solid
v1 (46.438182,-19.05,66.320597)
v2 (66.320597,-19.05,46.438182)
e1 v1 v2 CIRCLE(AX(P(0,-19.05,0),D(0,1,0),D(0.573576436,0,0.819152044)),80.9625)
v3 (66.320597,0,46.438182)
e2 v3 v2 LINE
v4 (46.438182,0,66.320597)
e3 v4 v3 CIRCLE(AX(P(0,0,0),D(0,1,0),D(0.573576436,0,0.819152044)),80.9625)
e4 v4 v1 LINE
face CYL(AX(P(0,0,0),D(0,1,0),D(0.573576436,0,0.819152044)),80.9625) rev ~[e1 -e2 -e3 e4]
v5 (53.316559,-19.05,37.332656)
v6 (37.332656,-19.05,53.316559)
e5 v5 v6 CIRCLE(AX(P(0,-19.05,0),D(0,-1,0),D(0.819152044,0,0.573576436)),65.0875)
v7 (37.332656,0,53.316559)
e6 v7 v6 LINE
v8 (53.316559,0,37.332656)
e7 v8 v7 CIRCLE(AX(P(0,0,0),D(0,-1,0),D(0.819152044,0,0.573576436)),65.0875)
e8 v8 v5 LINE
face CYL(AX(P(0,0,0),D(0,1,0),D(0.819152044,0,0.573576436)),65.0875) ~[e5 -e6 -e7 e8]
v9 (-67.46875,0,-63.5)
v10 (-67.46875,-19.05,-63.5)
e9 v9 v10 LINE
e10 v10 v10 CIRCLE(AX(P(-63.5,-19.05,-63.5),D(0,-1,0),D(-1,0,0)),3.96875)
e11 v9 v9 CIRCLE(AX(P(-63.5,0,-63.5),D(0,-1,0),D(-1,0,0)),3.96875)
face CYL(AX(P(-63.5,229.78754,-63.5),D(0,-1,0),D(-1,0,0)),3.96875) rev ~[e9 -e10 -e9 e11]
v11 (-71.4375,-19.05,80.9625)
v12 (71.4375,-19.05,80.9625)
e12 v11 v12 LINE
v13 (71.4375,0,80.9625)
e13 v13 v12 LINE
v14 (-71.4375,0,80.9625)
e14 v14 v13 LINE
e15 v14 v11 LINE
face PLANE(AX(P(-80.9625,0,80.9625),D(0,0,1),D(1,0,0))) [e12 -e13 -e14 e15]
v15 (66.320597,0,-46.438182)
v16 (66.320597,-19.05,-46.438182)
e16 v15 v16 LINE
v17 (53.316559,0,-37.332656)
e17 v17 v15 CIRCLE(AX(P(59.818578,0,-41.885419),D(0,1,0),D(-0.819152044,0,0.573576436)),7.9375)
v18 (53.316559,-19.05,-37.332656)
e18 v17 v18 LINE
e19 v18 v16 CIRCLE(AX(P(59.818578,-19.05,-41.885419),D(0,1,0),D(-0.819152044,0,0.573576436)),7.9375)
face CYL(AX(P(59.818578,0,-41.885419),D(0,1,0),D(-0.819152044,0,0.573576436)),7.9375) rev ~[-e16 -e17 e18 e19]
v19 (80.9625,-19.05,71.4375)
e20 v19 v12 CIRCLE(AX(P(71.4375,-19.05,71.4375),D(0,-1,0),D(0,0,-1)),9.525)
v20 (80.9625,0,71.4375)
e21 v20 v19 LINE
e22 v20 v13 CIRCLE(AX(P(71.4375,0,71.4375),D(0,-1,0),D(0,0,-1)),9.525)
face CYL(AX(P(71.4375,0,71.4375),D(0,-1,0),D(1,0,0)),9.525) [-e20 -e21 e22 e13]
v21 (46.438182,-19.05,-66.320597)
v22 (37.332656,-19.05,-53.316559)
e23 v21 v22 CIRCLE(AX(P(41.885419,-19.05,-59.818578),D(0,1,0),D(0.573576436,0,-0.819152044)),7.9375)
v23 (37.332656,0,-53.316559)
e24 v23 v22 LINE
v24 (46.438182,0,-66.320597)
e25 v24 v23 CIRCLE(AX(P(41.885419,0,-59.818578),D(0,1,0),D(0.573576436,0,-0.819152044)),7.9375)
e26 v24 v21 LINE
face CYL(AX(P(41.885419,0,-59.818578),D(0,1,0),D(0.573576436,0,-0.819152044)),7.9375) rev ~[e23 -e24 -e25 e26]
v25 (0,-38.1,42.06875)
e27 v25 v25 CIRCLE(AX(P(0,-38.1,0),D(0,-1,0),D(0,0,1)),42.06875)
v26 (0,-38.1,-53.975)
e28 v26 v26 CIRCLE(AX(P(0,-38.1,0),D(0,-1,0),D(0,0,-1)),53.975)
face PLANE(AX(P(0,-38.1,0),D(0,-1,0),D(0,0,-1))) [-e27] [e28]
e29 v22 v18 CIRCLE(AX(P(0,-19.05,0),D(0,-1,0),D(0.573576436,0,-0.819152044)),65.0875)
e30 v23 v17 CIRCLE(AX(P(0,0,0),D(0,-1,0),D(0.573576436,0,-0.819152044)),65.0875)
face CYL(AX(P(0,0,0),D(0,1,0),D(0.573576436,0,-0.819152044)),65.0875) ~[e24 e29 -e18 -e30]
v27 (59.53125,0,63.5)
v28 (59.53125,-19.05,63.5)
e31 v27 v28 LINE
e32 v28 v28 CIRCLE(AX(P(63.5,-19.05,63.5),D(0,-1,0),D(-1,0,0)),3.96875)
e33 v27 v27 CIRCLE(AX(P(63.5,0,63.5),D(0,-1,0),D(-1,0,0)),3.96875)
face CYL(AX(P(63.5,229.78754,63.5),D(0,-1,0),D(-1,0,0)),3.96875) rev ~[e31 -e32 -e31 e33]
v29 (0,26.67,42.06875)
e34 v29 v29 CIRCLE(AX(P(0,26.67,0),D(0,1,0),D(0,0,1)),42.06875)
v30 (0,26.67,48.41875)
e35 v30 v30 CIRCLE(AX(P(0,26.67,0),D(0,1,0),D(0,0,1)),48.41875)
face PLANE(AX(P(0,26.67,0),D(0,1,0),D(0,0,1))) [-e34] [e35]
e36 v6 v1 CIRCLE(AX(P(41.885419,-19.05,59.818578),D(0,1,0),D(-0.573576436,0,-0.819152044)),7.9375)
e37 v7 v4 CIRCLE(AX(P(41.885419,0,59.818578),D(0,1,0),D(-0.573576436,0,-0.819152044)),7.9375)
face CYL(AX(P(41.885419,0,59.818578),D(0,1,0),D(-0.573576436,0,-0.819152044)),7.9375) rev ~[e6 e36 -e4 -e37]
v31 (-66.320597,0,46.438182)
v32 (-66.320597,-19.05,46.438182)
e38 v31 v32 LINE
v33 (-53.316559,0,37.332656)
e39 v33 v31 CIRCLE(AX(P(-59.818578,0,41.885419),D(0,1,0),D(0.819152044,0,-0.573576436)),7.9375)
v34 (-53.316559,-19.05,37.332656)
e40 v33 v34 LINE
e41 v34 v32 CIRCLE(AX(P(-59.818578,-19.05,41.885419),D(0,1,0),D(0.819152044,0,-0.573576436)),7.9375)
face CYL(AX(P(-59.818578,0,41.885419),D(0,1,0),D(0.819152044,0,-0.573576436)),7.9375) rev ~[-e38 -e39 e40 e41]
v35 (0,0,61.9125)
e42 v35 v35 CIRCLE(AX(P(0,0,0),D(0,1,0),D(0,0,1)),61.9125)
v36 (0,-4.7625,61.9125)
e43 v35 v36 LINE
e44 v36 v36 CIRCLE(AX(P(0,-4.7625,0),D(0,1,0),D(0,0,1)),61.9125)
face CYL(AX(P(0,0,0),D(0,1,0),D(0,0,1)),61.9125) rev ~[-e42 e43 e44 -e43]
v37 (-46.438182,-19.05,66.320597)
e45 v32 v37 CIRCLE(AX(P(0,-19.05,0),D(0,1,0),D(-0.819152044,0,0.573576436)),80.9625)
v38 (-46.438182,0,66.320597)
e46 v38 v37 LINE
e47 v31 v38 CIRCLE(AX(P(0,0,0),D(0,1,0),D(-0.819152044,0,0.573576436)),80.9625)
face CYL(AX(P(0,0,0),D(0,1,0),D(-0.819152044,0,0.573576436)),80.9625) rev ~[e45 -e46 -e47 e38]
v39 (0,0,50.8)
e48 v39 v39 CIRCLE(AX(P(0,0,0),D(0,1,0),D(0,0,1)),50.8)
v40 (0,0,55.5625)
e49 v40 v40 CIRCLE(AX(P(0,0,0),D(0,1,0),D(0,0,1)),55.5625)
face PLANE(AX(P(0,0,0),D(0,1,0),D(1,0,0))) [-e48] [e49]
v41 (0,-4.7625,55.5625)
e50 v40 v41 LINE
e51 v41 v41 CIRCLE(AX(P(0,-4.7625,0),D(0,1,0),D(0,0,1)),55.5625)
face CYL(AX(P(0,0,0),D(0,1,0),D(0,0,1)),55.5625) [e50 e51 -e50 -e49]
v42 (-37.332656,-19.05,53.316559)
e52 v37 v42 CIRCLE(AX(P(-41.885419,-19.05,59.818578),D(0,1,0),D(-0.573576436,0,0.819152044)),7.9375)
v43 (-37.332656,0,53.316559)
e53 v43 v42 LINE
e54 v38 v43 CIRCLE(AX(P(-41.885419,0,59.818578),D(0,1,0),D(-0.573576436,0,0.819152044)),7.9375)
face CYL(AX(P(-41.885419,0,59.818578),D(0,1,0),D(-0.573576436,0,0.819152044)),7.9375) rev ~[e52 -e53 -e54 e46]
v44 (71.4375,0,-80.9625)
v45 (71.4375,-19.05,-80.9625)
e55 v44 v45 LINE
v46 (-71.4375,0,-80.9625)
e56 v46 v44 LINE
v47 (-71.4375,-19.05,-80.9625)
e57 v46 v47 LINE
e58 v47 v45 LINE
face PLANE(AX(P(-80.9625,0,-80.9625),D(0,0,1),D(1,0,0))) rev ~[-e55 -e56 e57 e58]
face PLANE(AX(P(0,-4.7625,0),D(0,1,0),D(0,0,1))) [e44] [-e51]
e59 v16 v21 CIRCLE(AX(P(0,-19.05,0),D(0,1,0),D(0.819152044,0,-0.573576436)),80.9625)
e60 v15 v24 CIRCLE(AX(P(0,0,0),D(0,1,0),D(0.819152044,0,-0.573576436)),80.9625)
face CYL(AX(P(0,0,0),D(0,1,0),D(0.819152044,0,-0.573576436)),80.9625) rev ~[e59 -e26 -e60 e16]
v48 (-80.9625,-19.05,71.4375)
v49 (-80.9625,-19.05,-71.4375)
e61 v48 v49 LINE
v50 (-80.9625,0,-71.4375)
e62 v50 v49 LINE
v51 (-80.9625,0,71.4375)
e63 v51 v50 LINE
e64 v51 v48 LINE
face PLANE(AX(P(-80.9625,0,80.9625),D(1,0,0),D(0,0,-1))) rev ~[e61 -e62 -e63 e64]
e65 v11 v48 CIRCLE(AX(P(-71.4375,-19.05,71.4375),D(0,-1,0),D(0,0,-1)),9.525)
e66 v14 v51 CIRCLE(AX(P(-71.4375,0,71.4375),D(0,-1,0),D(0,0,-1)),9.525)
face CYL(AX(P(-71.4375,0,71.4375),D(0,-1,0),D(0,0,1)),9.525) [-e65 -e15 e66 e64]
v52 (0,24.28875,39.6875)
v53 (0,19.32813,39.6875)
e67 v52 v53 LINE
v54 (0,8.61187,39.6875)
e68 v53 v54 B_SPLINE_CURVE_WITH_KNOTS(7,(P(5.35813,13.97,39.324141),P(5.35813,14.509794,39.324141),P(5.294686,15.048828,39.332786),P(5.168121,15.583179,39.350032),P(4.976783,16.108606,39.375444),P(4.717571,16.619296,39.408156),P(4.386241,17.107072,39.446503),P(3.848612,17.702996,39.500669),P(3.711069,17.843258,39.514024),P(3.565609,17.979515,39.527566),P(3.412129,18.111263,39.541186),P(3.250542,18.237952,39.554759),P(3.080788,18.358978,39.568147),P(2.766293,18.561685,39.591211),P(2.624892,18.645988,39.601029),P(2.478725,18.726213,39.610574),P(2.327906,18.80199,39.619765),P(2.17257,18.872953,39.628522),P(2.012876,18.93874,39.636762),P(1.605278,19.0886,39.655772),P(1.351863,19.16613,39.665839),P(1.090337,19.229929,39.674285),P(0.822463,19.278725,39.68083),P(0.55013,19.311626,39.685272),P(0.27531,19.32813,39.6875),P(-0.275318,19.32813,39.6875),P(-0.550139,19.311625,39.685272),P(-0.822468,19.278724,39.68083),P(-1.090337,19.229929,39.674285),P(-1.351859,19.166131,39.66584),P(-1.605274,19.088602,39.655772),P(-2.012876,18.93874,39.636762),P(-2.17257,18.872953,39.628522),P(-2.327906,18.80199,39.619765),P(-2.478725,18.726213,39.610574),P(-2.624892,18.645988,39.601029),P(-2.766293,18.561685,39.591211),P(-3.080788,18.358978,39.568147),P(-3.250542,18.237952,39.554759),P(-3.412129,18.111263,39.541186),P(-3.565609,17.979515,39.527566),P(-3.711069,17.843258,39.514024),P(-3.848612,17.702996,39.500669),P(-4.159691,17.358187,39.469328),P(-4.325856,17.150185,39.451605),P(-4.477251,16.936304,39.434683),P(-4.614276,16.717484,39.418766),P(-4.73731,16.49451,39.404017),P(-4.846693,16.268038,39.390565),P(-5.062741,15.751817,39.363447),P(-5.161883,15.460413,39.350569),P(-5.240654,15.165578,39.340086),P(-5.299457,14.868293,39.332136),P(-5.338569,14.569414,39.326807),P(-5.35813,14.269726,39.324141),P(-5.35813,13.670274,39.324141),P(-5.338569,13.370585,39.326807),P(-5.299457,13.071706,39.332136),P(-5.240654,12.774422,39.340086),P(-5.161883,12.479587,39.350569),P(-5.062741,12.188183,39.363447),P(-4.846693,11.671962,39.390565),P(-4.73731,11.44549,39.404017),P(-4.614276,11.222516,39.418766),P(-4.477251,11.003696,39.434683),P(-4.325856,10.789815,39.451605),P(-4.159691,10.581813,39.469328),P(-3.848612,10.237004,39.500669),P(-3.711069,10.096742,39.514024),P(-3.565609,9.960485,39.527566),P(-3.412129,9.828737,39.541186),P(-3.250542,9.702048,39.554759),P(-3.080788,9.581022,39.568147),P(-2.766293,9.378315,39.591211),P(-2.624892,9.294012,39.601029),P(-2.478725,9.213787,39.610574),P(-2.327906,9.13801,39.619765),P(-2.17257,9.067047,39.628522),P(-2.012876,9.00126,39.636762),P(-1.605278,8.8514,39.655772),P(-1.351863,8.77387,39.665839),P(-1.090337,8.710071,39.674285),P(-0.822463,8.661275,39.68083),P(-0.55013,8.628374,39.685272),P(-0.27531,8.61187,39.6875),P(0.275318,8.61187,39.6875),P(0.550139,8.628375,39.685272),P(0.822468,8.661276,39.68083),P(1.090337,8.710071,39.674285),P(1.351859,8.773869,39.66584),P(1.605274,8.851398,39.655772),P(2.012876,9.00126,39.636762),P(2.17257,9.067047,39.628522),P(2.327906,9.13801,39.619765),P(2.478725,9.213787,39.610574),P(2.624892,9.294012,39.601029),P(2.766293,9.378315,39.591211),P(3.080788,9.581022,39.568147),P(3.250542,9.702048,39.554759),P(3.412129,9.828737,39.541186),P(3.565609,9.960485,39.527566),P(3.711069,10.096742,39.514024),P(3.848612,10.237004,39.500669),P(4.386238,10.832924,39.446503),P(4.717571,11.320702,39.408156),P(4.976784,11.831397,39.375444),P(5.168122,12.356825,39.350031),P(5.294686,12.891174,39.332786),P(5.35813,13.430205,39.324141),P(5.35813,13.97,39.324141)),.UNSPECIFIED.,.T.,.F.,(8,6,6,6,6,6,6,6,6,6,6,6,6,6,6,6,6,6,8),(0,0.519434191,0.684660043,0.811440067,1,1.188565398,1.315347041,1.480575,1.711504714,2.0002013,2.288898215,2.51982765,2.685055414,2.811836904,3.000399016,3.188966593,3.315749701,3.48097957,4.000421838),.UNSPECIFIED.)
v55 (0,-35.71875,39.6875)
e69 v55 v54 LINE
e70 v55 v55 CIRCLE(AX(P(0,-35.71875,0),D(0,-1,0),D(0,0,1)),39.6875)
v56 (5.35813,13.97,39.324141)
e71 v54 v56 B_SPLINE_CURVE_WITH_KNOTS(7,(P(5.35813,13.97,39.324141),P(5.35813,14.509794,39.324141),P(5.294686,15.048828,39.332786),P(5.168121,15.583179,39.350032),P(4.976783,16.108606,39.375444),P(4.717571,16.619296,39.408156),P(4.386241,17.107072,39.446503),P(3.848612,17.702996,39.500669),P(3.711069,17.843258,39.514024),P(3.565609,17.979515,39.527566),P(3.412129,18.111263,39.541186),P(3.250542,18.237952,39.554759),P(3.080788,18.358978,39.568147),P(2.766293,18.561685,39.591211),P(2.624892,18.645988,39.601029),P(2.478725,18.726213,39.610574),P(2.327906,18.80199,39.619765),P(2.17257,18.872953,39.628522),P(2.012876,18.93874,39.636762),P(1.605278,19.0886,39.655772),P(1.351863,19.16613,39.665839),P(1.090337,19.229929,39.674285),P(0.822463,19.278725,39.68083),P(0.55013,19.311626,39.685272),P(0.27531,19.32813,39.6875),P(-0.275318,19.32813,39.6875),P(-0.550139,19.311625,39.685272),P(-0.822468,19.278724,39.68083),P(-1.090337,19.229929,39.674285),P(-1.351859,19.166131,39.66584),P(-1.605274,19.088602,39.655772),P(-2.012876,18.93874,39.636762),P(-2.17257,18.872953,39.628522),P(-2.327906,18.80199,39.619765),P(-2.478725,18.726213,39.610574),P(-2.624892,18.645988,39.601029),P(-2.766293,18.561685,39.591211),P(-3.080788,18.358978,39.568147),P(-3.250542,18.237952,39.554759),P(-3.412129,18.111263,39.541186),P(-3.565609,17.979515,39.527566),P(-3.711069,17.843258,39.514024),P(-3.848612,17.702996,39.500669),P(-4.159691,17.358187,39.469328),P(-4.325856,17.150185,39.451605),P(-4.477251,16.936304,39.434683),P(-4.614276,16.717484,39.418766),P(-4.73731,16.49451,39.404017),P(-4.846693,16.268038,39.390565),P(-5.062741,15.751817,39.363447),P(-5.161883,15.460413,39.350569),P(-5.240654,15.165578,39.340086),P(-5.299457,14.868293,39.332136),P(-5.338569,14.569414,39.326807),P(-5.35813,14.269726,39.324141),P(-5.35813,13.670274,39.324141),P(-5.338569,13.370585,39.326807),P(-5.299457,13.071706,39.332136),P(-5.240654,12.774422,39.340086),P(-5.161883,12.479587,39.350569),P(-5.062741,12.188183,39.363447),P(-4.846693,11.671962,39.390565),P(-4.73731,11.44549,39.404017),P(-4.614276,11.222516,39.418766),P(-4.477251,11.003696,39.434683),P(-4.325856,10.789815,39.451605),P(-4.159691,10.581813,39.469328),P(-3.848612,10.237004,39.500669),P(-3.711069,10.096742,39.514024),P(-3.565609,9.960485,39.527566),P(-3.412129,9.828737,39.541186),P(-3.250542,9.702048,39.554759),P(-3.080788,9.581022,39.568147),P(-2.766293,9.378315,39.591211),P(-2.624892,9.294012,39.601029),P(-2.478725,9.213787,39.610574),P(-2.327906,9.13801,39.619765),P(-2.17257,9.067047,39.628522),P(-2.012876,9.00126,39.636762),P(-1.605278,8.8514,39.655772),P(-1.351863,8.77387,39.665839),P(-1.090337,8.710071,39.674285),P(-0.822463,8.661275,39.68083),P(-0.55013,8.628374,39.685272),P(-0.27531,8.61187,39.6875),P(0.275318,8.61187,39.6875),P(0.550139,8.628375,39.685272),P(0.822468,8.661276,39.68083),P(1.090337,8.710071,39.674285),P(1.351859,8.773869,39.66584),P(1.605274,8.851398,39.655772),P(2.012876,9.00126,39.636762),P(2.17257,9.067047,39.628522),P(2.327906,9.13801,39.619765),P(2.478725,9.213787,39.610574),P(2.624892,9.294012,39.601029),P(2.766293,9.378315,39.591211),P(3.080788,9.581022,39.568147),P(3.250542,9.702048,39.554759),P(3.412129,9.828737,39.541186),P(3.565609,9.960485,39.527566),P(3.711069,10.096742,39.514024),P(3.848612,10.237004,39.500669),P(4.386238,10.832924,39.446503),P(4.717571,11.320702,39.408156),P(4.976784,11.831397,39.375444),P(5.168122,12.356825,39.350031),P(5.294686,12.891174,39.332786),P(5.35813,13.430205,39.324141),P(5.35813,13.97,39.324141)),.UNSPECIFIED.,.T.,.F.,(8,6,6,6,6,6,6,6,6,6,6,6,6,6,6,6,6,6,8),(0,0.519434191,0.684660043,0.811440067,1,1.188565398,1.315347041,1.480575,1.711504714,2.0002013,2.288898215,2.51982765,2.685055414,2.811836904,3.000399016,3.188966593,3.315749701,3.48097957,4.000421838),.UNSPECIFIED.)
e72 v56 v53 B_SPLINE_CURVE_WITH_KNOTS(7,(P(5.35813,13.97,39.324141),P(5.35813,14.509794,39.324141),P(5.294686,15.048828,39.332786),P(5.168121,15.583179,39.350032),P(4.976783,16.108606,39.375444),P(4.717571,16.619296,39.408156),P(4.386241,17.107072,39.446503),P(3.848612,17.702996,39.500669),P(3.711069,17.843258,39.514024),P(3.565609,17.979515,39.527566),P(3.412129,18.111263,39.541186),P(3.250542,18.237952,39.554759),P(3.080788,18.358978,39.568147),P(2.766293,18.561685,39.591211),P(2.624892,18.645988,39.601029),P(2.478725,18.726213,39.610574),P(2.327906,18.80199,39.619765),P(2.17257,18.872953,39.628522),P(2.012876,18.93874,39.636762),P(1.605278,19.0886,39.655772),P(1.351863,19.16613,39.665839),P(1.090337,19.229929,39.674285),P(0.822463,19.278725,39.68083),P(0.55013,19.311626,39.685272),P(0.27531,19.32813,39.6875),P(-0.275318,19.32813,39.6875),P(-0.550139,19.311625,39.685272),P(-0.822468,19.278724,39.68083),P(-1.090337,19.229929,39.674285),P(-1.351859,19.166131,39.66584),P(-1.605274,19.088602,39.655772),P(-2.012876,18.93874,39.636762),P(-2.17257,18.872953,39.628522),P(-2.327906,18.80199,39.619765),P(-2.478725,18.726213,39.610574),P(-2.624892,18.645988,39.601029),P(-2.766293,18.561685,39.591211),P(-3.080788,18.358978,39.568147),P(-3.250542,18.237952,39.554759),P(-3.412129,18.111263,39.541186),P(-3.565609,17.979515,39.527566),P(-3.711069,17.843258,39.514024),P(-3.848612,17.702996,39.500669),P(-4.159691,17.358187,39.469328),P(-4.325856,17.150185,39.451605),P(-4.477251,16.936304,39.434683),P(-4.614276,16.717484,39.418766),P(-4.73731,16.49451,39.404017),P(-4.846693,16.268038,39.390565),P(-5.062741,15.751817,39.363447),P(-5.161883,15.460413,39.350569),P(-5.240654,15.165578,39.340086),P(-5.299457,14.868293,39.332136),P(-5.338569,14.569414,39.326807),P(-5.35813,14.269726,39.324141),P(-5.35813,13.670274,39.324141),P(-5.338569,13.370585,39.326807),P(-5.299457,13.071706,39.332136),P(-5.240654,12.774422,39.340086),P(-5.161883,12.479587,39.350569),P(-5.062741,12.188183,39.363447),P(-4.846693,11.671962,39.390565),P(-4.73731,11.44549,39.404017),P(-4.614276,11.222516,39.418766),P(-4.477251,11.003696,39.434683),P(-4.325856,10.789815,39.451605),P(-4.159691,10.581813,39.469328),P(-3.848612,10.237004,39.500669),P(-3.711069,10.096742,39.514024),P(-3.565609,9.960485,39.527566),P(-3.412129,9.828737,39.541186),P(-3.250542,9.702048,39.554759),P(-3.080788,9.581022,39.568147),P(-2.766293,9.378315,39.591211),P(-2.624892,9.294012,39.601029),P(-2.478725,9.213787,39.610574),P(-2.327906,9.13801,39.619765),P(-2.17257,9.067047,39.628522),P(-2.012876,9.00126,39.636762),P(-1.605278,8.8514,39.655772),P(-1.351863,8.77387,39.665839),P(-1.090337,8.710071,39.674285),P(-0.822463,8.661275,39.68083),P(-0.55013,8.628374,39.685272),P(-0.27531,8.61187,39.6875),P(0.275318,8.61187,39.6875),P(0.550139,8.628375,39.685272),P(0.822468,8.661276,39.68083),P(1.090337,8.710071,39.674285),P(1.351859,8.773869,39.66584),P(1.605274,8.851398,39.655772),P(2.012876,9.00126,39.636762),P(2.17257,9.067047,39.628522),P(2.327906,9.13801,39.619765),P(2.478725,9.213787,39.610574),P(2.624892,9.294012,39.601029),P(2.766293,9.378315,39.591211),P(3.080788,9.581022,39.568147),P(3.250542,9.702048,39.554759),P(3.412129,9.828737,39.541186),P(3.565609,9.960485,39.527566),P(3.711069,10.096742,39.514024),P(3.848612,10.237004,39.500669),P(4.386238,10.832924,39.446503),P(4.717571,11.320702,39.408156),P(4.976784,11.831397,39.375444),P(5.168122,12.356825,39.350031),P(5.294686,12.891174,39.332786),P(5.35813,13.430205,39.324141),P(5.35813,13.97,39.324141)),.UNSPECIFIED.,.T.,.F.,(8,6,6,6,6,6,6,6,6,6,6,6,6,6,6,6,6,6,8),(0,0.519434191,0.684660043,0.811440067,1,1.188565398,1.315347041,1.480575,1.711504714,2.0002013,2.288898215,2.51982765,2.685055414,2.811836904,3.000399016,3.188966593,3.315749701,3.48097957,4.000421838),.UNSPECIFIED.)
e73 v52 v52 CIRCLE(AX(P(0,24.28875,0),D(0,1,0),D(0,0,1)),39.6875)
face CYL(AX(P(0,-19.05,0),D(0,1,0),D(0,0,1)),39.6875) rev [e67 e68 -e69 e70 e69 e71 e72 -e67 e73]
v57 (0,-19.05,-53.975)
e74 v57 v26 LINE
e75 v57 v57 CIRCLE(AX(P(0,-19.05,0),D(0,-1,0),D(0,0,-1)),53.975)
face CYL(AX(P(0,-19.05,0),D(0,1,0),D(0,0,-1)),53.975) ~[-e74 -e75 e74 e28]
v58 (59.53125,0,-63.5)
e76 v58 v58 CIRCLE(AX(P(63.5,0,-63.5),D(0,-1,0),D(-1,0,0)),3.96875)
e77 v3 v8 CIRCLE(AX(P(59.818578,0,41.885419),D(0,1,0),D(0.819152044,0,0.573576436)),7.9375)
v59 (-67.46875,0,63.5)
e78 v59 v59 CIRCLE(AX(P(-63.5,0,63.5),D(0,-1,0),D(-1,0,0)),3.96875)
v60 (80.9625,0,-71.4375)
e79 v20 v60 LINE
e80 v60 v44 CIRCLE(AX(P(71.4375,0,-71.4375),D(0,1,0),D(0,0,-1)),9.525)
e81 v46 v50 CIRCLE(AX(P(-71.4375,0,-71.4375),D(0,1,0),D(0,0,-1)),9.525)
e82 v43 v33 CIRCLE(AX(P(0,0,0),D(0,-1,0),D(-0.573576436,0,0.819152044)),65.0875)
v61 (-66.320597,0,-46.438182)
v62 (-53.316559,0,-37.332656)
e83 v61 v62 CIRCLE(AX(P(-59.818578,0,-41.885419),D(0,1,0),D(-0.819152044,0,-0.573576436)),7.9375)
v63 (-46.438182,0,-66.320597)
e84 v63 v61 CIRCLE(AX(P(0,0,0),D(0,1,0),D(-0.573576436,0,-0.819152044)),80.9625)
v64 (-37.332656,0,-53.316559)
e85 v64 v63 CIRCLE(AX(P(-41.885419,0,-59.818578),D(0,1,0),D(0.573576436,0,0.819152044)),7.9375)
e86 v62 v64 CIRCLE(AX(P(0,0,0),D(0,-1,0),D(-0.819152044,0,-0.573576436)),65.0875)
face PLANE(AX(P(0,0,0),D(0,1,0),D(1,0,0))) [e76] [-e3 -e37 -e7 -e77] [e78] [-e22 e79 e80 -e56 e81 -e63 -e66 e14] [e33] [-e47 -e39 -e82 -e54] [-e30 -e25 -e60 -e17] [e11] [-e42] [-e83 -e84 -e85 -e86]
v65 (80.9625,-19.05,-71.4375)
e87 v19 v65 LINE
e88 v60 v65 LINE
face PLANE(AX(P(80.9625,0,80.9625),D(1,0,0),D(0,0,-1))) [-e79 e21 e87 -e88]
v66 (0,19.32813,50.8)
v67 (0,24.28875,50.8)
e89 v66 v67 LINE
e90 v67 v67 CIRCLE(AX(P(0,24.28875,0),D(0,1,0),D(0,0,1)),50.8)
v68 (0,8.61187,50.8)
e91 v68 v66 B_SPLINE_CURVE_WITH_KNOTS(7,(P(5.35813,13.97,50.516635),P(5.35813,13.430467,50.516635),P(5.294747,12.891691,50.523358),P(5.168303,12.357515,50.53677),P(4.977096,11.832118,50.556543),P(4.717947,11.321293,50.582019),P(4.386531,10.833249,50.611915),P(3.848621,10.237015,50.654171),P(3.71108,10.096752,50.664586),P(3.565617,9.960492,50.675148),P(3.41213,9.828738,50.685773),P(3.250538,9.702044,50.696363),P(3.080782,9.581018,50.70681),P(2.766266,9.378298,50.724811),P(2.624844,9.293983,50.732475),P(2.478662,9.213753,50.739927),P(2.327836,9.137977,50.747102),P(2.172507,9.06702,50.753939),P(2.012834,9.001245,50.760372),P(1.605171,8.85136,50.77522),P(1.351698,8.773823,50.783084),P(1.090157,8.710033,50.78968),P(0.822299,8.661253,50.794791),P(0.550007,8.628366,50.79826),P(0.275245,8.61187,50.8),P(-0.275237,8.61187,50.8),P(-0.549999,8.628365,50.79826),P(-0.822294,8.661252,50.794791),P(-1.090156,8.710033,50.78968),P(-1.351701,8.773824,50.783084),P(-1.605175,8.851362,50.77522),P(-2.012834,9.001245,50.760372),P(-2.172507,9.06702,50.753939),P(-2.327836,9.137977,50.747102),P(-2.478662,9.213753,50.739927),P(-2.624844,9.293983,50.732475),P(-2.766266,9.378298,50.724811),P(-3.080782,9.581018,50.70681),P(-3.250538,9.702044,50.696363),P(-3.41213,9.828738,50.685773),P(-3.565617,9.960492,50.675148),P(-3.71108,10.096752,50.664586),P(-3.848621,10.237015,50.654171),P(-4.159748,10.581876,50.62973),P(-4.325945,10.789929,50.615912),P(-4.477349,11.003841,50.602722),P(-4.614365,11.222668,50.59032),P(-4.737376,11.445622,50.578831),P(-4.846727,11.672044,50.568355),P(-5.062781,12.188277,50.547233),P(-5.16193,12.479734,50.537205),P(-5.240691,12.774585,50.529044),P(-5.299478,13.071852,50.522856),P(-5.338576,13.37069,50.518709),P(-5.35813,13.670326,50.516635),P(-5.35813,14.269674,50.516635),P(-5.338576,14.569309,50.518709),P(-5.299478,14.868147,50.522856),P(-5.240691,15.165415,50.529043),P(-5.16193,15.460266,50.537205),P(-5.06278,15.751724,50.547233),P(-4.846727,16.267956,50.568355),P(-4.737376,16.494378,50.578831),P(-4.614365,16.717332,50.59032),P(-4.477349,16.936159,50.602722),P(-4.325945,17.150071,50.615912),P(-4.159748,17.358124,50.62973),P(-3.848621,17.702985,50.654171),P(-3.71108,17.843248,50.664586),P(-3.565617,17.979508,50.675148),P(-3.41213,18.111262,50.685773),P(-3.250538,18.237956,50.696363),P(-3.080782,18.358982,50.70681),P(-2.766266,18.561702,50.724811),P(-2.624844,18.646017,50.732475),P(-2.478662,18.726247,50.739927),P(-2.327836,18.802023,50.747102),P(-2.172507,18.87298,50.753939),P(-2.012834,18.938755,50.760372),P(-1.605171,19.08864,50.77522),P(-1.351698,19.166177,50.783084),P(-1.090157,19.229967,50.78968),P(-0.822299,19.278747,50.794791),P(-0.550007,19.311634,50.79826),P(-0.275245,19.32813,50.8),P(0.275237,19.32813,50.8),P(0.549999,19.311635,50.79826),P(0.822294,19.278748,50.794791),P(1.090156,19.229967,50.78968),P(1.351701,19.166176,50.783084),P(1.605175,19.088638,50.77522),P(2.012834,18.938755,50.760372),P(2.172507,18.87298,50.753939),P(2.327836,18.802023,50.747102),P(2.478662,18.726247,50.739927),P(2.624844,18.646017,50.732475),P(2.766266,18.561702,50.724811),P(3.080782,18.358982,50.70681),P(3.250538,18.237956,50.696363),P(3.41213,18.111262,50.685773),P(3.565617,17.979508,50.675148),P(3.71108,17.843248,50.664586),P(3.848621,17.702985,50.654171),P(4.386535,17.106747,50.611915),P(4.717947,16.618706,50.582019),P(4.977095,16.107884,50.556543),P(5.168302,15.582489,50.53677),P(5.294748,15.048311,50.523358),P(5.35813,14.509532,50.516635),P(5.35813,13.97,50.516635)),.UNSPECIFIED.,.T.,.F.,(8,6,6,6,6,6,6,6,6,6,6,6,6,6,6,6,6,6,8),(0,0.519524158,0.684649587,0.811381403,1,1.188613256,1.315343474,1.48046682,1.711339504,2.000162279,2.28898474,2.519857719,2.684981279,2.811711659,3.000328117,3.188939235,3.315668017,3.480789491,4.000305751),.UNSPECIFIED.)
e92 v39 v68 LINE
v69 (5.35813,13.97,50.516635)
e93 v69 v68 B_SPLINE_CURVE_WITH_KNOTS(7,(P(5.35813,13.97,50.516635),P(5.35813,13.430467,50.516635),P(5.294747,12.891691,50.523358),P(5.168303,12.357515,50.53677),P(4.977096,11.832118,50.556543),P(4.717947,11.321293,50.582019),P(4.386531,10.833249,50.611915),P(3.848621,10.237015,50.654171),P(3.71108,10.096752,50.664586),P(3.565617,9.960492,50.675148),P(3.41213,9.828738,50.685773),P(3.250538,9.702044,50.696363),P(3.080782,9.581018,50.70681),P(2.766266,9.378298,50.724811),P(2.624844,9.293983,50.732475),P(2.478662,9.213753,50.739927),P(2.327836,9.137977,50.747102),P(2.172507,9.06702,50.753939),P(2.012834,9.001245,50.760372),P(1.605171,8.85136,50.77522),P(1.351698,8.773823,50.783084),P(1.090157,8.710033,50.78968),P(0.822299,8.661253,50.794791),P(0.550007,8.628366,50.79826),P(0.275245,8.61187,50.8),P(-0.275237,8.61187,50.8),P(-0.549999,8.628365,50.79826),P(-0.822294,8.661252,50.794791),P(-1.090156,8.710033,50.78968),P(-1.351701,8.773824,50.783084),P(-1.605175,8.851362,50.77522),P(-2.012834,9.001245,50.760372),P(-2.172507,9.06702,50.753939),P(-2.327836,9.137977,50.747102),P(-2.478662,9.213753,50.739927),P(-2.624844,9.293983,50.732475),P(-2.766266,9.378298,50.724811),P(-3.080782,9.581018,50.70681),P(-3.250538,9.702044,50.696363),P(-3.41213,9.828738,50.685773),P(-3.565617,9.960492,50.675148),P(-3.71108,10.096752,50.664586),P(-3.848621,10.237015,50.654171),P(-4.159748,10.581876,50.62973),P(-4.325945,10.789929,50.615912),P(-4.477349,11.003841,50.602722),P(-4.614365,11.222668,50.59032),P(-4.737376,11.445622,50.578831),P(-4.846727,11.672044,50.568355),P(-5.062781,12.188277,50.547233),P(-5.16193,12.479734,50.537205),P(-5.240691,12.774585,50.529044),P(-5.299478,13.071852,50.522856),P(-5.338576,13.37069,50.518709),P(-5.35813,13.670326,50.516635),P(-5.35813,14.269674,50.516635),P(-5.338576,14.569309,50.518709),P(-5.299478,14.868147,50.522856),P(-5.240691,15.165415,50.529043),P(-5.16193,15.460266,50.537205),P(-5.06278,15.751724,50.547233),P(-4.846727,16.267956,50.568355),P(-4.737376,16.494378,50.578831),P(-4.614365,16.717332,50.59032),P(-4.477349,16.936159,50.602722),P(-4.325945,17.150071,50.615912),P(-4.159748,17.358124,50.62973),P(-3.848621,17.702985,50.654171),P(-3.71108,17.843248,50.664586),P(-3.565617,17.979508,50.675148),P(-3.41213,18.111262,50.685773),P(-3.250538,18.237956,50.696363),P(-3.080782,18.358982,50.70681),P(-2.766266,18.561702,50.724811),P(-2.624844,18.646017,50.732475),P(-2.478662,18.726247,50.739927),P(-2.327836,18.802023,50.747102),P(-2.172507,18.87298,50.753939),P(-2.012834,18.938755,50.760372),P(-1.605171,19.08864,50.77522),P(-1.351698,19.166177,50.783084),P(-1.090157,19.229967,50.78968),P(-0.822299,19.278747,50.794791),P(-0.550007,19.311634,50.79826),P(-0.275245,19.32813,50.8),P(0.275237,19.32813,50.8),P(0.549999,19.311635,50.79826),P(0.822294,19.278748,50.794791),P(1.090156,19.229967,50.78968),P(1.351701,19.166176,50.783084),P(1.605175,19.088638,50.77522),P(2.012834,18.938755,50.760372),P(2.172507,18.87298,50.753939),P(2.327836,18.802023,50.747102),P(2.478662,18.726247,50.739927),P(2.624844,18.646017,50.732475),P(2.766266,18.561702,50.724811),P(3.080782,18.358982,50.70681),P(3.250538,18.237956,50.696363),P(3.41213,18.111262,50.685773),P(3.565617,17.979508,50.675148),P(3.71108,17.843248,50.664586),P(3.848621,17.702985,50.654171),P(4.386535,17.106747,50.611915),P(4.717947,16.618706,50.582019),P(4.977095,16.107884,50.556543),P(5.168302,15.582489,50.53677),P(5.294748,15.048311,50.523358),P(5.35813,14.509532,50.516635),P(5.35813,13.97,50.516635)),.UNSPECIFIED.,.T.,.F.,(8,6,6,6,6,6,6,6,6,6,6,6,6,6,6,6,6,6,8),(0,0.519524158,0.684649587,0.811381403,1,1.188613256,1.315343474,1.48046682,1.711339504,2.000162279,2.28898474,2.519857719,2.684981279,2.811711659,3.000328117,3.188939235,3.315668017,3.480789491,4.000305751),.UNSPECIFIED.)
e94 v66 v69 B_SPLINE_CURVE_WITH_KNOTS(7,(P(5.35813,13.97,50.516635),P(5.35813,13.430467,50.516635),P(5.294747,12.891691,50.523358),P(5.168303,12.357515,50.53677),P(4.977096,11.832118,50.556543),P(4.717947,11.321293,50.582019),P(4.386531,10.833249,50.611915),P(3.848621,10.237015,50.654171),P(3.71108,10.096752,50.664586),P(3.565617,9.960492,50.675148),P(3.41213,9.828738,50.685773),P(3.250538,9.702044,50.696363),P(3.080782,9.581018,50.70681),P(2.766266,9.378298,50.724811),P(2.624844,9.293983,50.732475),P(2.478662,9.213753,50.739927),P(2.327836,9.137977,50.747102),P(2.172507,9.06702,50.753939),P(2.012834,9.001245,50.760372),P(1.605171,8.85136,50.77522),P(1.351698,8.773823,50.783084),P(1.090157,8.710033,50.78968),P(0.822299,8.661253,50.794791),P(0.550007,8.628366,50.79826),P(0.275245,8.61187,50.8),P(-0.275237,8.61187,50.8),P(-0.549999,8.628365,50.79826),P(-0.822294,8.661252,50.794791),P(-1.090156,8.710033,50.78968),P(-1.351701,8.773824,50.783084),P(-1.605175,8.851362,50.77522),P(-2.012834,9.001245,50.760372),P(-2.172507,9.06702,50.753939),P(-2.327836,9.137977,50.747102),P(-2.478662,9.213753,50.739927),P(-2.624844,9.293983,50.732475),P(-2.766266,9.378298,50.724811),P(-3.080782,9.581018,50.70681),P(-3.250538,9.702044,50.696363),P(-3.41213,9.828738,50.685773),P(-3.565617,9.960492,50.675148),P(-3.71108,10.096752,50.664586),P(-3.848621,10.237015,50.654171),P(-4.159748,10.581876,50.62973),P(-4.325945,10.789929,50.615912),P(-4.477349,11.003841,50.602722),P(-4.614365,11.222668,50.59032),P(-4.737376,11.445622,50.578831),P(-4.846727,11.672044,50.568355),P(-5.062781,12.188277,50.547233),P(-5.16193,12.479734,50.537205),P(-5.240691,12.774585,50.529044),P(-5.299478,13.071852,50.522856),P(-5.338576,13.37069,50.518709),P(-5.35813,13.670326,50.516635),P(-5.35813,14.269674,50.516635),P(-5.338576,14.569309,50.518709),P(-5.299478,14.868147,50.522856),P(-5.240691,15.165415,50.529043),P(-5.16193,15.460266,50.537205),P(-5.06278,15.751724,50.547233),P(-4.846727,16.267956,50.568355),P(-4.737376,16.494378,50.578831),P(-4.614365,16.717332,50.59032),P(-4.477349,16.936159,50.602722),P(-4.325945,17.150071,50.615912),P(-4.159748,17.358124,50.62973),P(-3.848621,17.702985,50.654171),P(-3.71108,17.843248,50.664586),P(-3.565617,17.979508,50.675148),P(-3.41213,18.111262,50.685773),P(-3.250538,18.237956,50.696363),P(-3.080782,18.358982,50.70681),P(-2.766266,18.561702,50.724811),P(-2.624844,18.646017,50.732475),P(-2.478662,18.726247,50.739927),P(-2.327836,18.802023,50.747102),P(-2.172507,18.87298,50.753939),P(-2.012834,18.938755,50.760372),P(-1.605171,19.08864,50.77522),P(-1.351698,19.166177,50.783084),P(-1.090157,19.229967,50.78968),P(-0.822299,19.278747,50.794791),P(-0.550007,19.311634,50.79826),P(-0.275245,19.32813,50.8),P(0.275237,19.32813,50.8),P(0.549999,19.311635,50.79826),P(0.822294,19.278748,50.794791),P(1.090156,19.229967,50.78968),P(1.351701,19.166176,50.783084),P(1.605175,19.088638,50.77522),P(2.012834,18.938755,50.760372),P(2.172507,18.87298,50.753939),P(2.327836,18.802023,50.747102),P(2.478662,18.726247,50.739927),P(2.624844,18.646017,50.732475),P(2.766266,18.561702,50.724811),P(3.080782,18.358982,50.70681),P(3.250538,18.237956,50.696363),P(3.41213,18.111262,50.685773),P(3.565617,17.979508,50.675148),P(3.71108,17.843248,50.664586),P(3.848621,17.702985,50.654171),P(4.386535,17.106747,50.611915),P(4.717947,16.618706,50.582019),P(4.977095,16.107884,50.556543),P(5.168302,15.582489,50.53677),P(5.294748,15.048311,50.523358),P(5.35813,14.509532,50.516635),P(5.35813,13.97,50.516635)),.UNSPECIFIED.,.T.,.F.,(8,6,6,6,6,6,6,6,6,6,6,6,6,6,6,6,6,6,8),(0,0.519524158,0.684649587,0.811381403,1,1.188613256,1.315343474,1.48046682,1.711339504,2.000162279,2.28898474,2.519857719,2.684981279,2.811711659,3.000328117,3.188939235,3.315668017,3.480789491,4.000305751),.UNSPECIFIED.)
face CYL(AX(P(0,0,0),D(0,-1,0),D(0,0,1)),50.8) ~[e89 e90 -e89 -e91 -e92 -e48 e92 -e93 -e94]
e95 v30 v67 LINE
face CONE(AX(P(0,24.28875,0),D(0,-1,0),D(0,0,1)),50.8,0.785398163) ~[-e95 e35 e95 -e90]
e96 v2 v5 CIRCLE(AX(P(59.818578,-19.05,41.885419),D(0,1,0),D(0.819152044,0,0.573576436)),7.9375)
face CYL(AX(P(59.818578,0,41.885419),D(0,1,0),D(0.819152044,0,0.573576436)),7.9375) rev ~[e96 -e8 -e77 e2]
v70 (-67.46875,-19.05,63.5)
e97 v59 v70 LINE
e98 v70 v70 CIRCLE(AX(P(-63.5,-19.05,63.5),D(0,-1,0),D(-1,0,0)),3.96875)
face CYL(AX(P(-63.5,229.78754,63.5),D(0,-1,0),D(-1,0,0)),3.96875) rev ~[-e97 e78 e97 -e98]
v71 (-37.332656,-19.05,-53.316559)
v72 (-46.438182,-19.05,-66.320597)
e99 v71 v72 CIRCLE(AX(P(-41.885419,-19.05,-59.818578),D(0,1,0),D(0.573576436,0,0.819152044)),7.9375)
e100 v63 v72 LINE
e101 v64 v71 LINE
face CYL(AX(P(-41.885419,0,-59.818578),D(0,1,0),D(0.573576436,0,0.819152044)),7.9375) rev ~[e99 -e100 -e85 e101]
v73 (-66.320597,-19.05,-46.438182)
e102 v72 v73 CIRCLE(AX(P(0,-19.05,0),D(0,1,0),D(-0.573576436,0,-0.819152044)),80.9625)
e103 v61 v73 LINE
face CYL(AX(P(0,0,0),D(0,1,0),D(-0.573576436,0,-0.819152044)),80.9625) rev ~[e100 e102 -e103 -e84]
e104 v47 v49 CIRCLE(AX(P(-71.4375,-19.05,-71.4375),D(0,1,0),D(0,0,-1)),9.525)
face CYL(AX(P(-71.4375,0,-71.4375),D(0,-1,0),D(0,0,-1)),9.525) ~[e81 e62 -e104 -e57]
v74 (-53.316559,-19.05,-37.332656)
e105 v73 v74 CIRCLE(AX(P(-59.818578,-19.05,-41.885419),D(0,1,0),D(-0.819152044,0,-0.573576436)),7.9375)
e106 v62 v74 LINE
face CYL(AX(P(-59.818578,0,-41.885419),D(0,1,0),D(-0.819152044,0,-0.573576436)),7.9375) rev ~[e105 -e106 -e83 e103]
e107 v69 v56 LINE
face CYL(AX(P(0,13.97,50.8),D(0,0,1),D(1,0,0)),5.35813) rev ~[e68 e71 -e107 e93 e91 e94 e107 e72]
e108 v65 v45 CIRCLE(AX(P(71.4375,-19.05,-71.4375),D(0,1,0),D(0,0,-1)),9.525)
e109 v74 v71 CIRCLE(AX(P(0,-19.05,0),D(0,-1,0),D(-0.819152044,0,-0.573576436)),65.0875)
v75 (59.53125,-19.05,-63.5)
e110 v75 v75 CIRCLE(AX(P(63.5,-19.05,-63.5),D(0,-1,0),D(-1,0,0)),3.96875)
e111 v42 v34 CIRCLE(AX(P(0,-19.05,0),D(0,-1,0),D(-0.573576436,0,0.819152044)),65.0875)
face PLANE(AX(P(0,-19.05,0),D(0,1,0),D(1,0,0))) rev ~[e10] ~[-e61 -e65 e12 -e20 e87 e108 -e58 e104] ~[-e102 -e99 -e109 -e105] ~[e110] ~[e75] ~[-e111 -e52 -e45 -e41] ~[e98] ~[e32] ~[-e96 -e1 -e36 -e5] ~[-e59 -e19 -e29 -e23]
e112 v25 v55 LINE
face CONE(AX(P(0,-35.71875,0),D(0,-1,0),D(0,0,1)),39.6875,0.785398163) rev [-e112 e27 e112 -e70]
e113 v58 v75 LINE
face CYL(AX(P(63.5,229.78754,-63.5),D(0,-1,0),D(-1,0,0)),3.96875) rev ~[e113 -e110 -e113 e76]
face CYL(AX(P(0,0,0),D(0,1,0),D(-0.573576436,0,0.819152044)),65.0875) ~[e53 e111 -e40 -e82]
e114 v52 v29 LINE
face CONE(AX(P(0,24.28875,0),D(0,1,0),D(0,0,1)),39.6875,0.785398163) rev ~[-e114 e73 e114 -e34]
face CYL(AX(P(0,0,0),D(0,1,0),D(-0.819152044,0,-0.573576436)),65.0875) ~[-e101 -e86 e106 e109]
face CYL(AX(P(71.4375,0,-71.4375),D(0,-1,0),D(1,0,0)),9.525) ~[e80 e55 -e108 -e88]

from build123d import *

# Parameters (mm, degrees)
ESQUISSE1_W                = 161.925
ESQUISSE1_H                = 161.925
ESQUISSE1_R                = 39.6875
BOSS_EXTRU_1_DEPTH         = 19.05
TROU_TARAUD_3_8_161_D      = 7.9375
ESQUISSE4_R                = 61.9125
ESQUISSE4_R_2              = 55.5625
ENL_V_MAT_EXTRU_1_DEPTH    = 4.7625
ESQUISSE5_R                = 50.8
ESQUISSE5_R_2              = 39.6875
BOSS_EXTRU_2_DEPTH         = 26.67
CONG_1_R                   = 9.525
TROU_TARAUD_1_2_131_REACH  = 158.932
TROU_TARAUD_1_2_131_BORE_R = 5.35813
CHANFREIN2_SIZE            = 2.38125
ESQUISSE11_R               = 53.975
ESQUISSE11_R_2             = 39.6875
BOSS_EXTRU_3_DEPTH         = 19.05
CHANFREIN4_SIZE            = 2.38125


with BuildPart() as part:
    # Esquisse1 → Boss.-Extru.1 (new body)
    with BuildSketch(Plane(origin=(0, 0, 0), x_dir=(1, 0, 0), z_dir=(0, 1, 0))):
        Rectangle(ESQUISSE1_W, ESQUISSE1_H)
        with Locations(Location((0, 0, 0), (0, 0, 270))):
            Circle(ESQUISSE1_R, mode=Mode.SUBTRACT)
        with BuildLine():
            ThreePointArc((-46.438182228, 66.320597386), (-57.249132772, 57.249132772), (-66.320597386, 46.438182228))
            ThreePointArc((-66.320597386, 46.438182228), (-64.371340998, 35.383399913), (-53.316558683, 37.332656301))
            ThreePointArc((-53.316558683, 37.332656301), (-46.02381262, 46.02381262), (-37.332656301, 53.316558683))
            ThreePointArc((-37.332656301, 53.316558683), (-35.383399913, 64.371340998), (-46.438182228, 66.320597386))
        make_face(mode=Mode.SUBTRACT)
        with BuildLine():
            ThreePointArc((66.320597386, 46.438182228), (57.249132772, 57.249132772), (46.438182228, 66.320597386))
            ThreePointArc((46.438182228, 66.320597386), (35.383399913, 64.371340998), (37.332656301, 53.316558683))
            ThreePointArc((37.332656301, 53.316558683), (46.02381262, 46.02381262), (53.316558683, 37.332656301))
            ThreePointArc((53.316558683, 37.332656301), (64.371340998, 35.383399913), (66.320597386, 46.438182228))
        make_face(mode=Mode.SUBTRACT)
        with BuildLine():
            ThreePointArc((46.438182228, -66.320597386), (57.249132772, -57.249132772), (66.320597386, -46.438182228))
            ThreePointArc((66.320597386, -46.438182228), (64.371340998, -35.383399913), (53.316558683, -37.332656301))
            ThreePointArc((53.316558683, -37.332656301), (46.02381262, -46.02381262), (37.332656301, -53.316558683))
            ThreePointArc((37.332656301, -53.316558683), (35.383399913, -64.371340998), (46.438182228, -66.320597386))
        make_face(mode=Mode.SUBTRACT)
        with BuildLine():
            ThreePointArc((-66.320597386, -46.438182228), (-57.249132772, -57.249132772), (-46.438182228, -66.320597386))
            ThreePointArc((-46.438182228, -66.320597386), (-35.383399913, -64.371340998), (-37.332656301, -53.316558683))
            ThreePointArc((-37.332656301, -53.316558683), (-46.02381262, -46.02381262), (-53.316558683, -37.332656301))
            ThreePointArc((-53.316558683, -37.332656301), (-64.371340998, -35.383399913), (-66.320597386, -46.438182228))
        make_face(mode=Mode.SUBTRACT)
    extrude(amount=-BOSS_EXTRU_1_DEPTH)

    # Trou taraudé 3/8-161 (through all)
    with Locations(Plane(origin=(0, 0, 0), x_dir=(1, 0, 0), z_dir=(0, 1, 0))):
        with Locations((-63.5, 63.5), (63.5, 63.5), (-63.5, -63.5), (63.5, -63.5)):
            Hole(TROU_TARAUD_3_8_161_D / 2)

    # Esquisse4 → Enlèv. mat.-Extru.1 (cut)
    with BuildSketch(Plane(origin=(0, 0, 0), x_dir=(1, 0, 0), z_dir=(0, 1, 0))):
        with Locations(Location((0, 0, 0), (0, 0, 270))):
            Circle(ESQUISSE4_R)
        with Locations(Location((0, 0, 0), (0, 0, 270))):
            Circle(ESQUISSE4_R_2, mode=Mode.SUBTRACT)
    extrude(amount=-ENL_V_MAT_EXTRU_1_DEPTH, mode=Mode.SUBTRACT)

    # Esquisse5 → Boss.-Extru.2 (add)
    with BuildSketch(Plane(origin=(0, 0, 0), x_dir=(1, 0, 0), z_dir=(0, 1, 0))):
        with Locations(Location((0, 0, 0), (0, 0, 270))):
            Circle(ESQUISSE5_R)
        with Locations(Location((0, 0, 0), (0, 0, 270))):
            Circle(ESQUISSE5_R_2, mode=Mode.SUBTRACT)
    extrude(amount=BOSS_EXTRU_2_DEPTH)

    # Congé1
    cong_1_edges = [part.edges().sort_by_distance(p)[0] for p in [
        (80.9625, -9.525, 80.9625),
        (-80.9625, -9.525, 80.9625),
        (-80.9625, -9.525, -80.9625),
        (80.9625, -9.525, -80.9625),
    ]]
    fillet(cong_1_edges, radius=CONG_1_R)

    # Trou taraudé 1/2-131 bore → Trou taraudé 1/2-131 (cut, up to next)
    with BuildSketch(Plane.XY.offset(50.8), mode=Mode.PRIVATE) as trou_taraud_1_2_131_sk1:
        with Locations((0, 13.97)):
            Circle(TROU_TARAUD_1_2_131_BORE_R)
    trou_taraud_1_2_131_tool1 = extrude(trou_taraud_1_2_131_sk1.sketch, amount=-TROU_TARAUD_1_2_131_REACH, mode=Mode.PRIVATE) & part.part
    add(trou_taraud_1_2_131_tool1.solids().sort_by_distance((0, 13.97, 50.8))[0], mode=Mode.SUBTRACT)

    # Chanfrein2
    chanfrein2_edges = [part.edges().sort_by_distance(p)[0] for p in [
        (0, 26.67, -50.8),
        (0, 26.67, -39.6875),
    ]]
    chamfer(chanfrein2_edges, length=CHANFREIN2_SIZE)

    # Esquisse11 → Boss.-Extru.3 (add)
    with BuildSketch(Plane(origin=(0, -19.05, 0), x_dir=(-1, 0, 0), z_dir=(0, -1, 0))):
        with Locations(Location((0, 0, 0), (0, 0, 90))):
            Circle(ESQUISSE11_R)
        with Locations(Location((0, 0, 0), (0, 0, 270))):
            Circle(ESQUISSE11_R_2, mode=Mode.SUBTRACT)
    extrude(amount=BOSS_EXTRU_3_DEPTH)

    # Chanfrein4
    chanfrein4_edges = [part.edges().sort_by_distance(p)[0] for p in [
        (0, -38.1, -39.6875),
    ]]
    chamfer(chanfrein4_edges, length=CHANFREIN4_SIZE)


solid = part.part
